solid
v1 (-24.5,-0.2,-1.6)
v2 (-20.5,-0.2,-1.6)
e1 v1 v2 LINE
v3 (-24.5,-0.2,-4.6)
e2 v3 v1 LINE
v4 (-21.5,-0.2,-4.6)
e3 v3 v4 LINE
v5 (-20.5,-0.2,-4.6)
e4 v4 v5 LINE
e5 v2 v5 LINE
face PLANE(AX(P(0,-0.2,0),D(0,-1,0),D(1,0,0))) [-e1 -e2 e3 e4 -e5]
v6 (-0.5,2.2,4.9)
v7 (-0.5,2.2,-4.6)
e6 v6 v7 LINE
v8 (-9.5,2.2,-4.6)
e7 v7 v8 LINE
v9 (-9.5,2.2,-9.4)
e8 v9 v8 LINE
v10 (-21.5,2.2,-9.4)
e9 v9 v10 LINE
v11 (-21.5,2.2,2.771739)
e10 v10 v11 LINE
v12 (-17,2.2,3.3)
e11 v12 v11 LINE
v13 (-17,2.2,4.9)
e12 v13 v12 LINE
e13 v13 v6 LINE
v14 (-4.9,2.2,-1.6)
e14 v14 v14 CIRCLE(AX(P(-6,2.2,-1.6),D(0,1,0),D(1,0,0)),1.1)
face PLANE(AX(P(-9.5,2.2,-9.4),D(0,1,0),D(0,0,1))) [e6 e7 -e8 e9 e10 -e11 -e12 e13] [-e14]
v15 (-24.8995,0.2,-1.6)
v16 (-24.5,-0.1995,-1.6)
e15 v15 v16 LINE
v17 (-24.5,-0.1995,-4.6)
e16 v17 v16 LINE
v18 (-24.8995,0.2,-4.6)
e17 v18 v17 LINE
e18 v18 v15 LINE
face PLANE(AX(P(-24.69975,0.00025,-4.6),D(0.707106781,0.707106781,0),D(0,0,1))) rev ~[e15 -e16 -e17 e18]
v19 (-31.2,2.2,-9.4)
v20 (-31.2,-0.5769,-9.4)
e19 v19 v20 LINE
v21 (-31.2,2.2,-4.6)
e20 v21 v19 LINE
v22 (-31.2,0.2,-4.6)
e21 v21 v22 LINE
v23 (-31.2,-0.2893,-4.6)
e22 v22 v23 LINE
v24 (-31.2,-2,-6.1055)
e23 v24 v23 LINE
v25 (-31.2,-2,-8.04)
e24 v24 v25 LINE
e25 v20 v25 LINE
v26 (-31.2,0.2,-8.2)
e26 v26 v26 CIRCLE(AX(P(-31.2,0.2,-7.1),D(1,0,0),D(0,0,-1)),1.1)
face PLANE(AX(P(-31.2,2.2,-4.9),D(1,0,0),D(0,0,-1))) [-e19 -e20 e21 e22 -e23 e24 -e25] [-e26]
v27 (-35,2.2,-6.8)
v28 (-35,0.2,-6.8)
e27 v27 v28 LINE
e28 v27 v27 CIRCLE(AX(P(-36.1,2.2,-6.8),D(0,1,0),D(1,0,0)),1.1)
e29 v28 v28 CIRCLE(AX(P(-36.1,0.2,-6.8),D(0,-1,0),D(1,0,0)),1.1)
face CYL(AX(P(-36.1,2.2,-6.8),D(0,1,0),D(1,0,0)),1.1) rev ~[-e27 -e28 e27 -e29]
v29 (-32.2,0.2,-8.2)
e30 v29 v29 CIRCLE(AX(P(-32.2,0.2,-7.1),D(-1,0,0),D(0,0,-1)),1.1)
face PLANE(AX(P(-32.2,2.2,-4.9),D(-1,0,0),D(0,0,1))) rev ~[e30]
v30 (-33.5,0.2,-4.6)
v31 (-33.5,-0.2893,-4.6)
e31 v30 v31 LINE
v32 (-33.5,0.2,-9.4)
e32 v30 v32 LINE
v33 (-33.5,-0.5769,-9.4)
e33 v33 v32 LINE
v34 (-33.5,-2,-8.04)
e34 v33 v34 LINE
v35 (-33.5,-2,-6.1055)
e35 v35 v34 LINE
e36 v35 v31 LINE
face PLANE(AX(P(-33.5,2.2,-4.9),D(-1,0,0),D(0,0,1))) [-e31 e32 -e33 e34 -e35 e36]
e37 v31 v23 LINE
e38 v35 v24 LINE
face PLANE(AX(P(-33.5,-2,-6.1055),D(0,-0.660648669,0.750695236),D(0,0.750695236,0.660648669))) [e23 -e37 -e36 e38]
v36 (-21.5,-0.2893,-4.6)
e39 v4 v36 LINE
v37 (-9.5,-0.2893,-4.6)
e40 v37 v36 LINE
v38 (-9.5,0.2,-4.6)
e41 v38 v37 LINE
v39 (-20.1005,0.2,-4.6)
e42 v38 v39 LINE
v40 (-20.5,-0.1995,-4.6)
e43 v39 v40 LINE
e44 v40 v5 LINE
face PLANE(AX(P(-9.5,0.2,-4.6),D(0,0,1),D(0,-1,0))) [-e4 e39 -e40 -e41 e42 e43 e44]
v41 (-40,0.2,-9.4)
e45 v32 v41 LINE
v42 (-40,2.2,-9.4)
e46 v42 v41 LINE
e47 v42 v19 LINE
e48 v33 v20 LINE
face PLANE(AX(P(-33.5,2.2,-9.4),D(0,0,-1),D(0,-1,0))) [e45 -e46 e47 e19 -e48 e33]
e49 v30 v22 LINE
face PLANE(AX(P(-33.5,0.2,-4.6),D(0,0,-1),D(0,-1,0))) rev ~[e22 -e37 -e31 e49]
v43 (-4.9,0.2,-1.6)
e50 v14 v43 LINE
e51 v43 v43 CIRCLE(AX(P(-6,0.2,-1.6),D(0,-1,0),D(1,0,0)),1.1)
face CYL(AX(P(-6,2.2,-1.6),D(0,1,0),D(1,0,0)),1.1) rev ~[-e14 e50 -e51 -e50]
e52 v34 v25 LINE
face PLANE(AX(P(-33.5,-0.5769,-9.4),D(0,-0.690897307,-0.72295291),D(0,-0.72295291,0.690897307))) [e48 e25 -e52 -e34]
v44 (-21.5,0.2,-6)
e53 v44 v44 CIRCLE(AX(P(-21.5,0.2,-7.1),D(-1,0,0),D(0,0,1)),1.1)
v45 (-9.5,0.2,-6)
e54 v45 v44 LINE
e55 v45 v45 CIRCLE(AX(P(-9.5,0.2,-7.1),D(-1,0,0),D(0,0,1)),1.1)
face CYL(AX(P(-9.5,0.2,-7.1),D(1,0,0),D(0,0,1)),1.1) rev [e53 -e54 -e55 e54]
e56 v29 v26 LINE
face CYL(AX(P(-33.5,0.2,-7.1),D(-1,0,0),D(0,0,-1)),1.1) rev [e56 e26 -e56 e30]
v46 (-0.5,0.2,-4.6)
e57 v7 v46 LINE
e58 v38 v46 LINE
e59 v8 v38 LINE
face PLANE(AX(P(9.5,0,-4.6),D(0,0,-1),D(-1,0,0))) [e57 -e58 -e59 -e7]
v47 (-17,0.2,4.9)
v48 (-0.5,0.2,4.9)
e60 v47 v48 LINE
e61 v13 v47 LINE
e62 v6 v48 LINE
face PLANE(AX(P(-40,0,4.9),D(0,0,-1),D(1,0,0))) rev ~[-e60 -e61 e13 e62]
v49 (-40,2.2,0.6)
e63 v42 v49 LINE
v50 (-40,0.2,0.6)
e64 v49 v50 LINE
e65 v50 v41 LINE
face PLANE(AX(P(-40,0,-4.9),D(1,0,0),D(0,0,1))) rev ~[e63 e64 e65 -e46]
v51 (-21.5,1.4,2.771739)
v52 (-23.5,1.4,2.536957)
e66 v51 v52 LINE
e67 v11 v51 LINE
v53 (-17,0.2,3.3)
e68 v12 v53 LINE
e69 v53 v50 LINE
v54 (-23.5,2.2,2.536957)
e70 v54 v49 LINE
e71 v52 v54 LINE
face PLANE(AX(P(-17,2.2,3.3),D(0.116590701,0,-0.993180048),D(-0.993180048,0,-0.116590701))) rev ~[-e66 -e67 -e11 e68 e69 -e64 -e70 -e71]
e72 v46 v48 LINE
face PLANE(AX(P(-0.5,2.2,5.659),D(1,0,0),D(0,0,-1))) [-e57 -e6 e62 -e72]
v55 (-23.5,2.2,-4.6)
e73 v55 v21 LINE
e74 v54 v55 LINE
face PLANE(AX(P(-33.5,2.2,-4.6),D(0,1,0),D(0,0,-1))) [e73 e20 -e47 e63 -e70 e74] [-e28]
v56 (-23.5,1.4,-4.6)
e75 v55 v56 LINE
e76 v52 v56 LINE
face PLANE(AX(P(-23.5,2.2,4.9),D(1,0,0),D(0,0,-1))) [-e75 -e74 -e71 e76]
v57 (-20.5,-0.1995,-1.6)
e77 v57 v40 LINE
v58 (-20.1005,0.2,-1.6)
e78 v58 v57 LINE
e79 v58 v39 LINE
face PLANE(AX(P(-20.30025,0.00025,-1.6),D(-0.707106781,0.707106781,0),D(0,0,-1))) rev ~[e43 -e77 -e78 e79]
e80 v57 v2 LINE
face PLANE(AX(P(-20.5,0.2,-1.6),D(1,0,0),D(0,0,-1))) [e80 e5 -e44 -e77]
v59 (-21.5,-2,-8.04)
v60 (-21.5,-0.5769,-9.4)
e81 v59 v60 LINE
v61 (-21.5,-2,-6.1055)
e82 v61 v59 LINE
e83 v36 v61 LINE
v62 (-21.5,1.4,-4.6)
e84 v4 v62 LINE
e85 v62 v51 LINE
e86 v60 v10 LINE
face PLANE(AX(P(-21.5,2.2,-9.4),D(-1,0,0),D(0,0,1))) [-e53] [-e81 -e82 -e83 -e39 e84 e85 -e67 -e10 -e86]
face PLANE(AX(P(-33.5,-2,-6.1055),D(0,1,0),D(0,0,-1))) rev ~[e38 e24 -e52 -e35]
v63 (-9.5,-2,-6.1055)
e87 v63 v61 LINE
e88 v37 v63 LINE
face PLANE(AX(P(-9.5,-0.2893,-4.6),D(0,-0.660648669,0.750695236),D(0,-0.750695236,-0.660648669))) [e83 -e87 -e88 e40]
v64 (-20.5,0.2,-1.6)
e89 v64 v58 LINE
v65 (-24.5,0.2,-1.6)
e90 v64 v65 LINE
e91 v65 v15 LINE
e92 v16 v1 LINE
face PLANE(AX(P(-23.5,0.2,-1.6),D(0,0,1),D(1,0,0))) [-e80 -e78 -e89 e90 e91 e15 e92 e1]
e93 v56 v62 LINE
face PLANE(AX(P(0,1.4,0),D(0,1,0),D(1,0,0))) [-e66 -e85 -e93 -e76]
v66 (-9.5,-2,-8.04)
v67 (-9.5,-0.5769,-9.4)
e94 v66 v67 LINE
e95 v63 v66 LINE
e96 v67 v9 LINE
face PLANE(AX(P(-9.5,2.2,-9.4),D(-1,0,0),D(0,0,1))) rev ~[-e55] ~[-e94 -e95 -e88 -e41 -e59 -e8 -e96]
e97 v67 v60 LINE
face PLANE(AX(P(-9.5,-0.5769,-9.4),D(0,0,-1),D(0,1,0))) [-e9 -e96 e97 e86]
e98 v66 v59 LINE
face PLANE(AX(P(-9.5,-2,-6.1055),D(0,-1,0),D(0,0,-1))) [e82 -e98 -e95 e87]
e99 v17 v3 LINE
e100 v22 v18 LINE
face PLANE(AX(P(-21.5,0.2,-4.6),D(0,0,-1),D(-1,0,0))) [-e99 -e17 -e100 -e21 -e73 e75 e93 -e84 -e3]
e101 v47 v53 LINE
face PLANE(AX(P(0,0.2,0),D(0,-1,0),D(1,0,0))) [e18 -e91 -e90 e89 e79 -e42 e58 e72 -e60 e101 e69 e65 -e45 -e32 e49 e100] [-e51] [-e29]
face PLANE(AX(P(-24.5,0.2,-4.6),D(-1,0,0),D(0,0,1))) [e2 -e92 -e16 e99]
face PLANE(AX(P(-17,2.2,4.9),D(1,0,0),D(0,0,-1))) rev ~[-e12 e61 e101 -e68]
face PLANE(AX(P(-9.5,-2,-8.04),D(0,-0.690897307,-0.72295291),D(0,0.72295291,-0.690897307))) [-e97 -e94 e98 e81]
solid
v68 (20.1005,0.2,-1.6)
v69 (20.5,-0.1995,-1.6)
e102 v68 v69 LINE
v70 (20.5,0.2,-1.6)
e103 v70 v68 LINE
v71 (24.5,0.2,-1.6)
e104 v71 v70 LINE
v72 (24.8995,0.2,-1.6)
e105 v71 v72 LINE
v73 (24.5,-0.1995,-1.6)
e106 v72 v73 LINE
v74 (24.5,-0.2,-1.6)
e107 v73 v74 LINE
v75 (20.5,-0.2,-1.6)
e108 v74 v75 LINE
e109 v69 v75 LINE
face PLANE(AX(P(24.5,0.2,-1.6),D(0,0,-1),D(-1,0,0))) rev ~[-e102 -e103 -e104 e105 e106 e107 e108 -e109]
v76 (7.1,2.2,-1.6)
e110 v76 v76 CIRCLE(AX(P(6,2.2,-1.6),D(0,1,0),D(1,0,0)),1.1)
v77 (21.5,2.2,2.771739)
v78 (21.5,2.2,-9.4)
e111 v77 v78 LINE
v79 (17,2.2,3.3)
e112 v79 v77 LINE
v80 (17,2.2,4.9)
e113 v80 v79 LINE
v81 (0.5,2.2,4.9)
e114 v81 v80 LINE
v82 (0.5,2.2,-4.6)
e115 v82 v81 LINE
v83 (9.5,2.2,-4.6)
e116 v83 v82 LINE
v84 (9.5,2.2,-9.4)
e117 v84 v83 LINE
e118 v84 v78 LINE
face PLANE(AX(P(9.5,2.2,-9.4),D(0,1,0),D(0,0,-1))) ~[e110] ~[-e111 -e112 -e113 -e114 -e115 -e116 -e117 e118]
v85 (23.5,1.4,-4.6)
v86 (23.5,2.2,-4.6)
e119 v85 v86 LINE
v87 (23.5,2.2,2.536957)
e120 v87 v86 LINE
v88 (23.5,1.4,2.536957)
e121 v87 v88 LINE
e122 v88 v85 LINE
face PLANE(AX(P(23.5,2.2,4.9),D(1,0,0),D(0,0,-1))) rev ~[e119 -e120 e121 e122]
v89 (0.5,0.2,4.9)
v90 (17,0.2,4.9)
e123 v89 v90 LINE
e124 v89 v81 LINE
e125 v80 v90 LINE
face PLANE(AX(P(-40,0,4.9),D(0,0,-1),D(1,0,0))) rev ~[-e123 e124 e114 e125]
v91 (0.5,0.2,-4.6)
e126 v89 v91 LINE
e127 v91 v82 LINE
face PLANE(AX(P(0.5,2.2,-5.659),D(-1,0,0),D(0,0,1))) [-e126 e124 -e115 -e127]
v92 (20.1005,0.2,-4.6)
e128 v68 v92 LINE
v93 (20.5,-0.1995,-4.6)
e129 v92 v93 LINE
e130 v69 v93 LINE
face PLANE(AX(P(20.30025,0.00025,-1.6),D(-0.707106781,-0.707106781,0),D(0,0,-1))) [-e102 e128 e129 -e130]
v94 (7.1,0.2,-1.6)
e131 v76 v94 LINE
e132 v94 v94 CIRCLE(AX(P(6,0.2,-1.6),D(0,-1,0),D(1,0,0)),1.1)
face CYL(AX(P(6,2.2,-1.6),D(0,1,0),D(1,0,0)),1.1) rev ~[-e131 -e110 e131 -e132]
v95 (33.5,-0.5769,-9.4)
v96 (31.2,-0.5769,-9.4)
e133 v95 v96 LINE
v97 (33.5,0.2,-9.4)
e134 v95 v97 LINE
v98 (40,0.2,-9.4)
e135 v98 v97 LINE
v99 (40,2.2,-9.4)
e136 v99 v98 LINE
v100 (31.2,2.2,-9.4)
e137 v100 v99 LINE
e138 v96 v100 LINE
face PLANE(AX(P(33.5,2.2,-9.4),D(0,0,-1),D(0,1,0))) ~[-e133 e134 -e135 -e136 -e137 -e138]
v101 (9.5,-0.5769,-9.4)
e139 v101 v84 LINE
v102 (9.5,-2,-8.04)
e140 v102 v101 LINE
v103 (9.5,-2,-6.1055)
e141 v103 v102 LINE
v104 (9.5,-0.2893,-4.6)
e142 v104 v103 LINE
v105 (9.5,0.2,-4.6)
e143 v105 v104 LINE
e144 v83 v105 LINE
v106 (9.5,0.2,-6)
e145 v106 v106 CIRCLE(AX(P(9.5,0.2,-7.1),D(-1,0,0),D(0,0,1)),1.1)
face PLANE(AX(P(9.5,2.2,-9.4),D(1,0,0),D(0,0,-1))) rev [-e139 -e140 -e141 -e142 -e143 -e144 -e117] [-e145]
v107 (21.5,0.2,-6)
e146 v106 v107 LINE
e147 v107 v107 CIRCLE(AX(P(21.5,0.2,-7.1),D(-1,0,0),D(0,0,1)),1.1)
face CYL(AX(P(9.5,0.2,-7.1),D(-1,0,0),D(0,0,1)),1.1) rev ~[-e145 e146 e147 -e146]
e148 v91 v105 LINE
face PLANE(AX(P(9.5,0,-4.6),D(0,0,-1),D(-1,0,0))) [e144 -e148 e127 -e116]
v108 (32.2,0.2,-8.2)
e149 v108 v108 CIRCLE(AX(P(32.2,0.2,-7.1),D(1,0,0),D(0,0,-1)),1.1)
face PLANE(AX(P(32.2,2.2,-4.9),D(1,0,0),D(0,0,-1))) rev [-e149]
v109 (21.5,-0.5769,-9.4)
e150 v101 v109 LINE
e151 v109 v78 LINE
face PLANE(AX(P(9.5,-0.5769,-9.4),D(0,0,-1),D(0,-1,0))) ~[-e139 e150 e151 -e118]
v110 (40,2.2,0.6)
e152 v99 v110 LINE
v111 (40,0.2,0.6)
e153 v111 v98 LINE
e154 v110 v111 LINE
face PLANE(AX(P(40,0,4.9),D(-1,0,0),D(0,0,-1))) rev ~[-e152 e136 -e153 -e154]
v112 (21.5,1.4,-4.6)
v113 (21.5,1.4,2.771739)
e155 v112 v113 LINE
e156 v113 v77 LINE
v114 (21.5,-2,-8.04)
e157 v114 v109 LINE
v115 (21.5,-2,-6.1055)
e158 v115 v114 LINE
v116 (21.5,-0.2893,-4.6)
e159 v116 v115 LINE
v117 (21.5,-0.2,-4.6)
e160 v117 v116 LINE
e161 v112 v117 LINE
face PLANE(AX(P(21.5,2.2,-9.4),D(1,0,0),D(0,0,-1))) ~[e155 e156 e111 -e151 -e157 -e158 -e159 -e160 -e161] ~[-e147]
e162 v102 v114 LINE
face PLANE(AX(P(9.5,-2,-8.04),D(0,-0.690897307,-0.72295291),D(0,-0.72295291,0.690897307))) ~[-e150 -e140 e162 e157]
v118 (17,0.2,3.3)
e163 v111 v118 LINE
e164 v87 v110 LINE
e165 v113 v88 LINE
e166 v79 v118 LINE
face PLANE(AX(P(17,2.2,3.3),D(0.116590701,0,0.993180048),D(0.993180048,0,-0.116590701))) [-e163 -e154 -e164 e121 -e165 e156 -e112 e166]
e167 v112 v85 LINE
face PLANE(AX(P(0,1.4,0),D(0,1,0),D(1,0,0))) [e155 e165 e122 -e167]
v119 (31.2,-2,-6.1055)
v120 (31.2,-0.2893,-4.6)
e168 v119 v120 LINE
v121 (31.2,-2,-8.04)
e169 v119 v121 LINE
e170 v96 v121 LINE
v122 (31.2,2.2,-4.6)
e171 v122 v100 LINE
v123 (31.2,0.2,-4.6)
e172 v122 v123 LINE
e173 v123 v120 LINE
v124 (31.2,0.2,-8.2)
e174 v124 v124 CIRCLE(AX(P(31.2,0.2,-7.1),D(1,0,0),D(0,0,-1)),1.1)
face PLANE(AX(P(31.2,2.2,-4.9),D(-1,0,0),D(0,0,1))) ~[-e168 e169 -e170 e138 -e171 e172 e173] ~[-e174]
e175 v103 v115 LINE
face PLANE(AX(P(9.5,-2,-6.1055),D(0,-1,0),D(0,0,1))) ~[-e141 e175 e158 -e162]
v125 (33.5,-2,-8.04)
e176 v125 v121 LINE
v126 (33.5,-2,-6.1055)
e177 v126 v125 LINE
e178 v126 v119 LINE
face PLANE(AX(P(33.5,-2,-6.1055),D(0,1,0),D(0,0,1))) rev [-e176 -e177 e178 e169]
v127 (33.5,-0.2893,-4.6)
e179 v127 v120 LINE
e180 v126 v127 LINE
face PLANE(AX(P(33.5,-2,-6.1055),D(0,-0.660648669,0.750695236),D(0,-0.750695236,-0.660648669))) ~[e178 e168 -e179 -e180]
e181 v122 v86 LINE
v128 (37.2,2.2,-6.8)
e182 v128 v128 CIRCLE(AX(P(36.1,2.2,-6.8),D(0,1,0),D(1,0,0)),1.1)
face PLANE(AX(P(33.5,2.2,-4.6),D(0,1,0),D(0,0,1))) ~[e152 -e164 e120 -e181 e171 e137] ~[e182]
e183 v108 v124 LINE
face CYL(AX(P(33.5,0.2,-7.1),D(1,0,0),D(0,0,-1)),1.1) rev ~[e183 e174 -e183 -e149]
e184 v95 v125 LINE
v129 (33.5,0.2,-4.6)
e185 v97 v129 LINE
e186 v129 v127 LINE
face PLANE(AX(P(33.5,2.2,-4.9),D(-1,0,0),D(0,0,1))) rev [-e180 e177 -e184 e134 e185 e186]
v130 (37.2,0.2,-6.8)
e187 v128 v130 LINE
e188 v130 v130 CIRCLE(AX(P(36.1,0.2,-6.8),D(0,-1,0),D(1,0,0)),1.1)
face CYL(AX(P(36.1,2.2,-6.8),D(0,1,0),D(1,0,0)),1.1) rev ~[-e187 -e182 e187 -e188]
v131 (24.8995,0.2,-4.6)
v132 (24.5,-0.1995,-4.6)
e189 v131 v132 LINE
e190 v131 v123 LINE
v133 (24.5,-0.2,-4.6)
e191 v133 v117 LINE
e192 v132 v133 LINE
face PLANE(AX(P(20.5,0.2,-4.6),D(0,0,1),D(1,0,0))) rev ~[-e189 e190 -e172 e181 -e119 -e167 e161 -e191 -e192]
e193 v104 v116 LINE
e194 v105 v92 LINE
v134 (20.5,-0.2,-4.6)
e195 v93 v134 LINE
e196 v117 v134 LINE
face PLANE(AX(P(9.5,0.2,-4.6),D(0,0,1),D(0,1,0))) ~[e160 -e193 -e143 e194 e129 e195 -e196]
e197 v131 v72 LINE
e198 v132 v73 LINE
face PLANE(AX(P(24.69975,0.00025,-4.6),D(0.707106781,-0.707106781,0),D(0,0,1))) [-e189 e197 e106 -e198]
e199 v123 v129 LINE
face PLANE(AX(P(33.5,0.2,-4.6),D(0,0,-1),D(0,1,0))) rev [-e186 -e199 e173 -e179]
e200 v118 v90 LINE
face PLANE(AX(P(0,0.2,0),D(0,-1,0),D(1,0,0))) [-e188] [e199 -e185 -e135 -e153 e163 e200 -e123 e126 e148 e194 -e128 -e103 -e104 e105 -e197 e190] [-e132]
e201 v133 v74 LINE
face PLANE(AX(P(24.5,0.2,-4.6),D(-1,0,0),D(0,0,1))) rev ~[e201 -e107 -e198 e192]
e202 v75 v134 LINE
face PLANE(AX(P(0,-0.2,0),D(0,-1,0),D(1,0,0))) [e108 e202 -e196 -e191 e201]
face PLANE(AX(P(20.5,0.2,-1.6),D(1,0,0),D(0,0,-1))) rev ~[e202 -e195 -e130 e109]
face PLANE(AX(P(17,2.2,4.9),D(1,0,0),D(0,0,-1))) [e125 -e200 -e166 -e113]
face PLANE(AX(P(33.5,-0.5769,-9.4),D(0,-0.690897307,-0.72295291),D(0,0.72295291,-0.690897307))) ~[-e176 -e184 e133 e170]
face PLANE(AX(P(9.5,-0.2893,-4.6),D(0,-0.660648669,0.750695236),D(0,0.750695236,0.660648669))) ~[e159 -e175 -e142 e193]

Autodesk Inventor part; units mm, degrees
sketch "Boceto1" plane through (0, 0, 0) normal (0, 1, 0) x (-1, 0, 0)
  line L0 (-40, -4.9) -> (40, -4.9)
  line L1 (40, -4.9) -> (40, 4.9)
  line L2 (40, 4.9) -> (-40, 4.9)
  line L3 (-40, 4.9) -> (-40, -4.9)
  line L4 (-40, -4.9) -> (40, 4.9) construction
  line L5 (40, -4.9) -> (-40, 4.9) construction
  point P0 (0, 0)
  dimension "d0" = 9.8
  dimension "d1" = 80
extrude "Extrusión1" add sketch "Boceto1" along normal blind 2.2
sketch "Boceto4" plane through (0, 2.2, 0) normal (0, 1, 0) x (1, 0, 0)
  line L0 (40, 4.9) -> (-40, 4.9) projected
  line L1 (-40, -4.9) -> (40, -4.9) projected
  line L2 (23.5, 4.9) -> (21.5, 4.9)
  line L3 (21.5, 4.9) -> (21.5, -4.9)
  line L4 (21.5, -4.9) -> (23.5, -4.9)
  line L5 (23.5, -4.9) -> (23.5, 4.9)
  line L6 (40, -4.9) -> (40, 4.9) projected
  line L7 (0, 0) -> (0, 8.5747)
  line L8 (-23.5, 4.9) -> (-21.5, 4.9)
  line L9 (-21.5, 4.9) -> (-21.5, -4.9)
  line L10 (-21.5, -4.9) -> (-23.5, -4.9)
  line L11 (-23.5, -4.9) -> (-23.5, 4.9)
  point P0 (19.5, 4.9)
  dimension "d15" = 2
  dimension "d16" = 16.5
extrude "Extrusión4" cut sketch "Boceto4" against normal blind 0.8 contours L5 L1 L3 L0 | L9 L1 L11 L0
sketch "Boceto7" plane through (-40, 0, -4.9) normal (0, 0, -1) x (-1, 0, 0)
  line L0 (-80, 0) -> (0, 0) projected
  line L1 (-63.5, 2.2) -> (-80, 2.2) projected
  line L2 (-80, 0) -> (-73.5, 0)
  line L3 (-73.5, 0) -> (-73.5, 2.2)
  line L4 (-73.5, 2.2) -> (-80, 2.2)
  line L5 (-80, 2.2) -> (-80, 0)
  line L6 (-80, 0) -> (0, 0) projected
  line L7 (0, 2.2) -> (-16.5, 2.2) projected
  line L8 (0, 0) -> (-6.5, 0)
  line L9 (-6.5, 0) -> (-6.5, 2.2)
  line L10 (-6.5, 2.2) -> (0, 2.2)
  line L11 (0, 2.2) -> (0, 0)
  point P0 (-40, 0)
  point P1 (-59.5, 0)
  point P2 (-20.5, 0)
  dimension "d43" = 6.5
  dimension "d44" = 6.5
extrude "Extrusión7" add sketch "Boceto7" along normal blind 4.5
ref_plane "Plano de trabajo7" through (9.5, 0, -4.9) normal (0, 0, -1) x (-1, 0, 0)
sketch "Boceto8" plane through (9.5, 0, -4.9) normal (0, 0, -1) x (-1, 0, 0)
  line L0 (0, 2.2) -> (19, 2.2) projected
  line L1 (-24, 0) -> (43, 0) projected
  line L2 (-12, 2.2) -> (31, 2.2) projected
  line L3 (43, 0) -> (43, 2.2) projected
  line L4 (33, 2.2) -> (43, 2.2) projected
  line L5 (33, 2.2) -> (33, 1.4) projected
  line L6 (-12, 1.4) -> (-14, 1.4) projected
  line L7 (-24, 2.2) -> (-24, 0) projected
  line L8 (33, 1.4) -> (31, 1.4) projected
  line L9 (-14, 1.4) -> (-14, 2.2) projected
  line L10 (-24, 2.2) -> (-14, 2.2) projected
  line L11 (31, 1.4) -> (31, 2.2) projected
  line L12 (-12, 2.2) -> (-12, 1.4) projected
  point P0 (9.5, 0)
extrude "Extrusión8" cut sketch "Boceto8" against normal blind 0.3
sketch "Boceto11" plane through (0, 2.2, 0) normal (0, 1, 0) x (1, 0, 0)
  circle A0 centre (-36.1, 6.8) radius 1.1
  line L0 (-40, 9.4) -> (-33.5, 9.4) projected
  line L1 (-40, -4.9) -> (-40, 9.4) projected
  line L2 (0, 4.6) -> (0, 9.4)
  circle A1 centre (36.1, 6.8) radius 1.1
  point P0 (0, 0)
  dimension "d45" = 2.2
  dimension "d46" = 2.6
  dimension "d47" = 3.9
extrude "Extrusión11" cut sketch "Boceto11" against normal through all
sketch "Boceto14" plane through (0, 2.2, 0) normal (0, 1, 0) x (1, 0, 0)
  line L0 (-40, -4.9) -> (-40, 9.4) projected
  line L1 (-40, -4.9) -> (-40, -0.6)
  line L2 (-40, 9.4) -> (-33.5, 9.4) projected
  line L3 (0, 4.6) -> (0, 10.3532)
  line L4 (-40, -4.9) -> (-17, -4.9)
  line L5 (-17, -4.9) -> (-17, -3.3)
  line L6 (-17, -3.3) -> (-40, -0.6)
  line L7 (40, -4.9) -> (40, -0.6)
  line L8 (40, -4.9) -> (17, -4.9)
  line L9 (17, -4.9) -> (17, -3.3)
  line L10 (17, -3.3) -> (40, -0.6)
  point P0 (0, 0)
  point P1 (40, -4.9)
  dimension "d59" = 10
  dimension "d65" = 23
  dimension "d67" = 1.6
extrude "Extrusión14" cut sketch "Boceto14" against normal through all
ref_plane "Plano de trabajo5" through (0, 2.2, 0) normal (0, 1, 0) x (1, 0, 0)
sketch "Boceto15" plane through (0, 2.2, 0) normal (0, 1, 0) x (1, 0, 0)
  line L0 (0.5, -5.659) -> (-0.5, -5.659)
  line L1 (-0.5, -5.659) -> (-0.5, 5.659)
  line L2 (-0.5, 5.659) -> (0.5, 5.659)
  line L3 (0.5, 5.659) -> (0.5, -5.659)
  line L4 (0.5, -5.659) -> (-0.5, 5.659) construction
  line L5 (-0.5, -5.659) -> (0.5, 5.659) construction
  dimension "d69" = 1
extrude "Extrusión15" cut sketch "Boceto15" against normal through all
sketch "Boceto16" plane through (0, 2.2, 0) normal (0, 1, 0) x (1, 0, 0)
  circle A0 centre (-6, 1.6) radius 1.1
  line L0 (0, 0) -> (0, 8.3303)
  circle A1 centre (6, 1.6) radius 1.1
  line L1 (-0.5, 4.6) -> (-21.5, 4.6) projected
  line L2 (-0.5, -4.9) -> (-0.5, 4.6) projected
  dimension "d78" = 2.2
  dimension "d99" = 3
  dimension "d100" = 5.5
extrude "Extrusión16" cut sketch "Boceto16" against normal through all
sketch "Boceto17" plane through (0, 0, 0) normal (0, -1, 0) x (1, 0, 0)
  circle A0 centre (-6, -1.6) radius 1.1 projected
  line L0 (-17, 4.9) -> (-0.5, 4.9) projected
  line L1 (-17, 4.9) -> (-17, 3.3) projected
  line L2 (-17, 3.3) -> (-40, 0.6) projected
  line L3 (-40, 0.6) -> (-40, -9.4) projected
  line L4 (-33.5, -9.4) -> (-40, -9.4) projected
  circle A1 centre (-36.1, -6.8) radius 1.1 projected
  circle A2 centre (6, -1.6) radius 1.1 projected
  circle A3 centre (36.1, -6.8) radius 1.1 projected
  line L5 (40, -9.4) -> (33.5, -9.4) projected
  line L6 (40, 0.6) -> (40, -9.4) projected
  line L7 (40, 0.6) -> (17, 3.3) projected
  line L8 (17, 3.3) -> (17, 4.9) projected
  line L9 (0.5, 4.9) -> (17, 4.9) projected
  line L10 (-17, 3.3) -> (-40, 0.6) projected
  line L11 (-40, 0.6) -> (-40, -9.4) projected
  line L12 (-33.5, -9.4) -> (-40, -9.4) projected
  line L13 (-17, 4.9) -> (-17, 3.3) projected
  line L14 (40, -9.4) -> (33.5, -9.4) projected
  line L15 (40, 0.6) -> (40, -9.4) projected
  line L16 (40, 0.6) -> (17, 3.3) projected
  line L17 (17, 3.3) -> (17, 4.9) projected
  line L18 (-33.5, -9.4) -> (-33.5, -4.6) projected
  line L19 (33.5, -4.6) -> (33.5, -9.4) projected
  line L20 (-33.5, -9.4) -> (-33.5, -4.6) projected
  line L21 (33.5, -4.6) -> (33.5, -9.4) projected
  line L22 (0.5, 4.9) -> (0.5, -4.6) projected
  line L23 (-0.5, -4.6) -> (-0.5, 4.9) projected
  line L24 (-17, 4.9) -> (-0.5, 4.9) projected
  line L25 (0.5, 4.9) -> (0.5, -4.6) projected
  line L26 (0.5, 4.9) -> (17, 4.9) projected
  line L27 (-0.5, -4.6) -> (-0.5, 4.9) projected
  line L28 (0.5, -4.6) -> (33.5, -4.6) projected
  line L29 (-33.5, -4.6) -> (-0.5, -4.6) projected
  line L30 (0.5, -4.6) -> (33.5, -4.6) projected
  line L31 (-33.5, -4.6) -> (-0.5, -4.6) projected
  point P0 (0, 0)
extrude "Extrusión17" cut sketch "Boceto17" against normal blind 0.2
sketch "Boceto18" plane through (-33.5, 2.2, -4.9) normal (1, 0, 0) x (0, 0, -1)
  circle A0 centre (2.2, -2) radius 1.1
  line L0 (4.5, 0) -> (4.5, -2) projected
  line L1 (-0.3, 0) -> (4.5, 0) projected
  line L2 (-0.3, 0) -> (-0.3, -2) projected
  line L3 (4.5, 0) -> (-0.3, 0)
  line L4 (-0.3, 0) -> (-0.3, -2.4893)
  line L5 (1.2055, -4.2) -> (3.14, -4.2)
  line L6 (4.5, -2.7769) -> (4.5, 0)
  line L7 (4.5, -2.7769) -> (3.14, -4.2)
  line L8 (1.2055, -4.2) -> (-0.3, -2.4893)
  dimension "d89" = 2.2
  dimension "d90" = 1.1
  dimension "d91" = 2
extrude "Extrusión18" add sketch "Boceto18" along normal blind 2.3
sketch "Boceto20" plane through (-33.5, 2.2, -4.9) normal (-1, 0, 0) x (0, 0, 1)
  circle A0 centre (-2.2, -2) radius 1.1 projected
  point P0 (4.9, -2.2)
extrude "Extrusión19" add sketch "Boceto20" against normal blind 1.3
mirror "Simetría1" about plane through (0, 0, 0) normal (1, 0, 0) of "Extrusión19", "Extrusión18"
ref_plane "Plano de trabajo8" through (-9.5, 2.2, -9.4) normal (-1, 0, 0) x (0, 0, 1)
sketch "Boceto21" plane through (-9.5, 2.2, -9.4) normal (-1, 0, 0) x (0, 0, 1)
  circle A0 centre (2.3, -2) radius 1.1 projected
  line L0 (0, 0) -> (4.8, 0) projected
  line L1 (0, -2.7769) -> (0, 0) projected
  line L2 (1.36, -4.2) -> (0, -2.7769) projected
  line L3 (3.2945, -4.2) -> (1.36, -4.2) projected
  line L4 (4.8, -2.4893) -> (3.2945, -4.2) projected
  line L5 (4.8, -2) -> (4.8, -2.4893) projected
  line L6 (4.8, 0) -> (4.8, -2) projected
  point P0 (9.4, -2.2)
extrude "Extrusión20" add sketch "Boceto21" along normal blind 12
mirror "Simetría2" about plane through (0, 0, 0) normal (1, 0, 0) of "Extrusión20"
sketch "Boceto23" plane through (0, 0.2, 0) normal (0, -1, 0) x (1, 0, 0)
  line L0 (-23.5, 2.537) -> (-21.5, 2.7717) projected
  line L1 (-21.5, -4.6) -> (-21.5, 2.7717) projected
  line L2 (-21.5, -4.6) -> (-23.5, -4.6) projected
  line L3 (-23.5, 2.537) -> (-23.5, -4.6) projected
  line L4 (-23.5, -4.6) -> (-31.2, -4.6) projected
  line L5 (-24.5, -4.6) -> (-24.5, -1.6)
  line L6 (-24.5, -1.6) -> (-20.5, -1.6)
  line L7 (-20.5, -1.6) -> (-20.5, -4.6)
  line L8 (-20.5, -4.6) -> (-24.5, -4.6)
  line L9 (0, 0) -> (0, 8.701)
  line L10 (21.5, -4.6) -> (23.5, -4.6)
  line L11 (24.5, -4.6) -> (24.5, -1.6)
  line L12 (24.5, -1.6) -> (20.5, -1.6)
  line L13 (20.5, -1.6) -> (20.5, -4.6)
  line L14 (20.5, -4.6) -> (24.5, -4.6)
  dimension "d101" = 1
  dimension "d102" = 1
  dimension "d103" = 3
extrude "Extrusión22" add sketch "Boceto23" along normal blind 0.4 contours L6 L1 L2 L3 | L3 L4 L5 L6 | L6 L7 L8 L1 | L14 L13 L12 L11 L10
chamfer "Chaflán3" distance 0.4 angle 45 1 edges at (20.5, 0.2, -3.1)
chamfer "Chaflán4" distance 0.4 angle 45 1 edges at (24.5, 0.2, -3.1)
chamfer "Chaflán5" distance 0.4 angle 45 2 edges at (-20.5, 0.2, -3.1) (-24.5, 0.2, -3.1)
properties part number "SoportePlaca_SPEL_Rev.3" material "WindForm xt 2.0"
